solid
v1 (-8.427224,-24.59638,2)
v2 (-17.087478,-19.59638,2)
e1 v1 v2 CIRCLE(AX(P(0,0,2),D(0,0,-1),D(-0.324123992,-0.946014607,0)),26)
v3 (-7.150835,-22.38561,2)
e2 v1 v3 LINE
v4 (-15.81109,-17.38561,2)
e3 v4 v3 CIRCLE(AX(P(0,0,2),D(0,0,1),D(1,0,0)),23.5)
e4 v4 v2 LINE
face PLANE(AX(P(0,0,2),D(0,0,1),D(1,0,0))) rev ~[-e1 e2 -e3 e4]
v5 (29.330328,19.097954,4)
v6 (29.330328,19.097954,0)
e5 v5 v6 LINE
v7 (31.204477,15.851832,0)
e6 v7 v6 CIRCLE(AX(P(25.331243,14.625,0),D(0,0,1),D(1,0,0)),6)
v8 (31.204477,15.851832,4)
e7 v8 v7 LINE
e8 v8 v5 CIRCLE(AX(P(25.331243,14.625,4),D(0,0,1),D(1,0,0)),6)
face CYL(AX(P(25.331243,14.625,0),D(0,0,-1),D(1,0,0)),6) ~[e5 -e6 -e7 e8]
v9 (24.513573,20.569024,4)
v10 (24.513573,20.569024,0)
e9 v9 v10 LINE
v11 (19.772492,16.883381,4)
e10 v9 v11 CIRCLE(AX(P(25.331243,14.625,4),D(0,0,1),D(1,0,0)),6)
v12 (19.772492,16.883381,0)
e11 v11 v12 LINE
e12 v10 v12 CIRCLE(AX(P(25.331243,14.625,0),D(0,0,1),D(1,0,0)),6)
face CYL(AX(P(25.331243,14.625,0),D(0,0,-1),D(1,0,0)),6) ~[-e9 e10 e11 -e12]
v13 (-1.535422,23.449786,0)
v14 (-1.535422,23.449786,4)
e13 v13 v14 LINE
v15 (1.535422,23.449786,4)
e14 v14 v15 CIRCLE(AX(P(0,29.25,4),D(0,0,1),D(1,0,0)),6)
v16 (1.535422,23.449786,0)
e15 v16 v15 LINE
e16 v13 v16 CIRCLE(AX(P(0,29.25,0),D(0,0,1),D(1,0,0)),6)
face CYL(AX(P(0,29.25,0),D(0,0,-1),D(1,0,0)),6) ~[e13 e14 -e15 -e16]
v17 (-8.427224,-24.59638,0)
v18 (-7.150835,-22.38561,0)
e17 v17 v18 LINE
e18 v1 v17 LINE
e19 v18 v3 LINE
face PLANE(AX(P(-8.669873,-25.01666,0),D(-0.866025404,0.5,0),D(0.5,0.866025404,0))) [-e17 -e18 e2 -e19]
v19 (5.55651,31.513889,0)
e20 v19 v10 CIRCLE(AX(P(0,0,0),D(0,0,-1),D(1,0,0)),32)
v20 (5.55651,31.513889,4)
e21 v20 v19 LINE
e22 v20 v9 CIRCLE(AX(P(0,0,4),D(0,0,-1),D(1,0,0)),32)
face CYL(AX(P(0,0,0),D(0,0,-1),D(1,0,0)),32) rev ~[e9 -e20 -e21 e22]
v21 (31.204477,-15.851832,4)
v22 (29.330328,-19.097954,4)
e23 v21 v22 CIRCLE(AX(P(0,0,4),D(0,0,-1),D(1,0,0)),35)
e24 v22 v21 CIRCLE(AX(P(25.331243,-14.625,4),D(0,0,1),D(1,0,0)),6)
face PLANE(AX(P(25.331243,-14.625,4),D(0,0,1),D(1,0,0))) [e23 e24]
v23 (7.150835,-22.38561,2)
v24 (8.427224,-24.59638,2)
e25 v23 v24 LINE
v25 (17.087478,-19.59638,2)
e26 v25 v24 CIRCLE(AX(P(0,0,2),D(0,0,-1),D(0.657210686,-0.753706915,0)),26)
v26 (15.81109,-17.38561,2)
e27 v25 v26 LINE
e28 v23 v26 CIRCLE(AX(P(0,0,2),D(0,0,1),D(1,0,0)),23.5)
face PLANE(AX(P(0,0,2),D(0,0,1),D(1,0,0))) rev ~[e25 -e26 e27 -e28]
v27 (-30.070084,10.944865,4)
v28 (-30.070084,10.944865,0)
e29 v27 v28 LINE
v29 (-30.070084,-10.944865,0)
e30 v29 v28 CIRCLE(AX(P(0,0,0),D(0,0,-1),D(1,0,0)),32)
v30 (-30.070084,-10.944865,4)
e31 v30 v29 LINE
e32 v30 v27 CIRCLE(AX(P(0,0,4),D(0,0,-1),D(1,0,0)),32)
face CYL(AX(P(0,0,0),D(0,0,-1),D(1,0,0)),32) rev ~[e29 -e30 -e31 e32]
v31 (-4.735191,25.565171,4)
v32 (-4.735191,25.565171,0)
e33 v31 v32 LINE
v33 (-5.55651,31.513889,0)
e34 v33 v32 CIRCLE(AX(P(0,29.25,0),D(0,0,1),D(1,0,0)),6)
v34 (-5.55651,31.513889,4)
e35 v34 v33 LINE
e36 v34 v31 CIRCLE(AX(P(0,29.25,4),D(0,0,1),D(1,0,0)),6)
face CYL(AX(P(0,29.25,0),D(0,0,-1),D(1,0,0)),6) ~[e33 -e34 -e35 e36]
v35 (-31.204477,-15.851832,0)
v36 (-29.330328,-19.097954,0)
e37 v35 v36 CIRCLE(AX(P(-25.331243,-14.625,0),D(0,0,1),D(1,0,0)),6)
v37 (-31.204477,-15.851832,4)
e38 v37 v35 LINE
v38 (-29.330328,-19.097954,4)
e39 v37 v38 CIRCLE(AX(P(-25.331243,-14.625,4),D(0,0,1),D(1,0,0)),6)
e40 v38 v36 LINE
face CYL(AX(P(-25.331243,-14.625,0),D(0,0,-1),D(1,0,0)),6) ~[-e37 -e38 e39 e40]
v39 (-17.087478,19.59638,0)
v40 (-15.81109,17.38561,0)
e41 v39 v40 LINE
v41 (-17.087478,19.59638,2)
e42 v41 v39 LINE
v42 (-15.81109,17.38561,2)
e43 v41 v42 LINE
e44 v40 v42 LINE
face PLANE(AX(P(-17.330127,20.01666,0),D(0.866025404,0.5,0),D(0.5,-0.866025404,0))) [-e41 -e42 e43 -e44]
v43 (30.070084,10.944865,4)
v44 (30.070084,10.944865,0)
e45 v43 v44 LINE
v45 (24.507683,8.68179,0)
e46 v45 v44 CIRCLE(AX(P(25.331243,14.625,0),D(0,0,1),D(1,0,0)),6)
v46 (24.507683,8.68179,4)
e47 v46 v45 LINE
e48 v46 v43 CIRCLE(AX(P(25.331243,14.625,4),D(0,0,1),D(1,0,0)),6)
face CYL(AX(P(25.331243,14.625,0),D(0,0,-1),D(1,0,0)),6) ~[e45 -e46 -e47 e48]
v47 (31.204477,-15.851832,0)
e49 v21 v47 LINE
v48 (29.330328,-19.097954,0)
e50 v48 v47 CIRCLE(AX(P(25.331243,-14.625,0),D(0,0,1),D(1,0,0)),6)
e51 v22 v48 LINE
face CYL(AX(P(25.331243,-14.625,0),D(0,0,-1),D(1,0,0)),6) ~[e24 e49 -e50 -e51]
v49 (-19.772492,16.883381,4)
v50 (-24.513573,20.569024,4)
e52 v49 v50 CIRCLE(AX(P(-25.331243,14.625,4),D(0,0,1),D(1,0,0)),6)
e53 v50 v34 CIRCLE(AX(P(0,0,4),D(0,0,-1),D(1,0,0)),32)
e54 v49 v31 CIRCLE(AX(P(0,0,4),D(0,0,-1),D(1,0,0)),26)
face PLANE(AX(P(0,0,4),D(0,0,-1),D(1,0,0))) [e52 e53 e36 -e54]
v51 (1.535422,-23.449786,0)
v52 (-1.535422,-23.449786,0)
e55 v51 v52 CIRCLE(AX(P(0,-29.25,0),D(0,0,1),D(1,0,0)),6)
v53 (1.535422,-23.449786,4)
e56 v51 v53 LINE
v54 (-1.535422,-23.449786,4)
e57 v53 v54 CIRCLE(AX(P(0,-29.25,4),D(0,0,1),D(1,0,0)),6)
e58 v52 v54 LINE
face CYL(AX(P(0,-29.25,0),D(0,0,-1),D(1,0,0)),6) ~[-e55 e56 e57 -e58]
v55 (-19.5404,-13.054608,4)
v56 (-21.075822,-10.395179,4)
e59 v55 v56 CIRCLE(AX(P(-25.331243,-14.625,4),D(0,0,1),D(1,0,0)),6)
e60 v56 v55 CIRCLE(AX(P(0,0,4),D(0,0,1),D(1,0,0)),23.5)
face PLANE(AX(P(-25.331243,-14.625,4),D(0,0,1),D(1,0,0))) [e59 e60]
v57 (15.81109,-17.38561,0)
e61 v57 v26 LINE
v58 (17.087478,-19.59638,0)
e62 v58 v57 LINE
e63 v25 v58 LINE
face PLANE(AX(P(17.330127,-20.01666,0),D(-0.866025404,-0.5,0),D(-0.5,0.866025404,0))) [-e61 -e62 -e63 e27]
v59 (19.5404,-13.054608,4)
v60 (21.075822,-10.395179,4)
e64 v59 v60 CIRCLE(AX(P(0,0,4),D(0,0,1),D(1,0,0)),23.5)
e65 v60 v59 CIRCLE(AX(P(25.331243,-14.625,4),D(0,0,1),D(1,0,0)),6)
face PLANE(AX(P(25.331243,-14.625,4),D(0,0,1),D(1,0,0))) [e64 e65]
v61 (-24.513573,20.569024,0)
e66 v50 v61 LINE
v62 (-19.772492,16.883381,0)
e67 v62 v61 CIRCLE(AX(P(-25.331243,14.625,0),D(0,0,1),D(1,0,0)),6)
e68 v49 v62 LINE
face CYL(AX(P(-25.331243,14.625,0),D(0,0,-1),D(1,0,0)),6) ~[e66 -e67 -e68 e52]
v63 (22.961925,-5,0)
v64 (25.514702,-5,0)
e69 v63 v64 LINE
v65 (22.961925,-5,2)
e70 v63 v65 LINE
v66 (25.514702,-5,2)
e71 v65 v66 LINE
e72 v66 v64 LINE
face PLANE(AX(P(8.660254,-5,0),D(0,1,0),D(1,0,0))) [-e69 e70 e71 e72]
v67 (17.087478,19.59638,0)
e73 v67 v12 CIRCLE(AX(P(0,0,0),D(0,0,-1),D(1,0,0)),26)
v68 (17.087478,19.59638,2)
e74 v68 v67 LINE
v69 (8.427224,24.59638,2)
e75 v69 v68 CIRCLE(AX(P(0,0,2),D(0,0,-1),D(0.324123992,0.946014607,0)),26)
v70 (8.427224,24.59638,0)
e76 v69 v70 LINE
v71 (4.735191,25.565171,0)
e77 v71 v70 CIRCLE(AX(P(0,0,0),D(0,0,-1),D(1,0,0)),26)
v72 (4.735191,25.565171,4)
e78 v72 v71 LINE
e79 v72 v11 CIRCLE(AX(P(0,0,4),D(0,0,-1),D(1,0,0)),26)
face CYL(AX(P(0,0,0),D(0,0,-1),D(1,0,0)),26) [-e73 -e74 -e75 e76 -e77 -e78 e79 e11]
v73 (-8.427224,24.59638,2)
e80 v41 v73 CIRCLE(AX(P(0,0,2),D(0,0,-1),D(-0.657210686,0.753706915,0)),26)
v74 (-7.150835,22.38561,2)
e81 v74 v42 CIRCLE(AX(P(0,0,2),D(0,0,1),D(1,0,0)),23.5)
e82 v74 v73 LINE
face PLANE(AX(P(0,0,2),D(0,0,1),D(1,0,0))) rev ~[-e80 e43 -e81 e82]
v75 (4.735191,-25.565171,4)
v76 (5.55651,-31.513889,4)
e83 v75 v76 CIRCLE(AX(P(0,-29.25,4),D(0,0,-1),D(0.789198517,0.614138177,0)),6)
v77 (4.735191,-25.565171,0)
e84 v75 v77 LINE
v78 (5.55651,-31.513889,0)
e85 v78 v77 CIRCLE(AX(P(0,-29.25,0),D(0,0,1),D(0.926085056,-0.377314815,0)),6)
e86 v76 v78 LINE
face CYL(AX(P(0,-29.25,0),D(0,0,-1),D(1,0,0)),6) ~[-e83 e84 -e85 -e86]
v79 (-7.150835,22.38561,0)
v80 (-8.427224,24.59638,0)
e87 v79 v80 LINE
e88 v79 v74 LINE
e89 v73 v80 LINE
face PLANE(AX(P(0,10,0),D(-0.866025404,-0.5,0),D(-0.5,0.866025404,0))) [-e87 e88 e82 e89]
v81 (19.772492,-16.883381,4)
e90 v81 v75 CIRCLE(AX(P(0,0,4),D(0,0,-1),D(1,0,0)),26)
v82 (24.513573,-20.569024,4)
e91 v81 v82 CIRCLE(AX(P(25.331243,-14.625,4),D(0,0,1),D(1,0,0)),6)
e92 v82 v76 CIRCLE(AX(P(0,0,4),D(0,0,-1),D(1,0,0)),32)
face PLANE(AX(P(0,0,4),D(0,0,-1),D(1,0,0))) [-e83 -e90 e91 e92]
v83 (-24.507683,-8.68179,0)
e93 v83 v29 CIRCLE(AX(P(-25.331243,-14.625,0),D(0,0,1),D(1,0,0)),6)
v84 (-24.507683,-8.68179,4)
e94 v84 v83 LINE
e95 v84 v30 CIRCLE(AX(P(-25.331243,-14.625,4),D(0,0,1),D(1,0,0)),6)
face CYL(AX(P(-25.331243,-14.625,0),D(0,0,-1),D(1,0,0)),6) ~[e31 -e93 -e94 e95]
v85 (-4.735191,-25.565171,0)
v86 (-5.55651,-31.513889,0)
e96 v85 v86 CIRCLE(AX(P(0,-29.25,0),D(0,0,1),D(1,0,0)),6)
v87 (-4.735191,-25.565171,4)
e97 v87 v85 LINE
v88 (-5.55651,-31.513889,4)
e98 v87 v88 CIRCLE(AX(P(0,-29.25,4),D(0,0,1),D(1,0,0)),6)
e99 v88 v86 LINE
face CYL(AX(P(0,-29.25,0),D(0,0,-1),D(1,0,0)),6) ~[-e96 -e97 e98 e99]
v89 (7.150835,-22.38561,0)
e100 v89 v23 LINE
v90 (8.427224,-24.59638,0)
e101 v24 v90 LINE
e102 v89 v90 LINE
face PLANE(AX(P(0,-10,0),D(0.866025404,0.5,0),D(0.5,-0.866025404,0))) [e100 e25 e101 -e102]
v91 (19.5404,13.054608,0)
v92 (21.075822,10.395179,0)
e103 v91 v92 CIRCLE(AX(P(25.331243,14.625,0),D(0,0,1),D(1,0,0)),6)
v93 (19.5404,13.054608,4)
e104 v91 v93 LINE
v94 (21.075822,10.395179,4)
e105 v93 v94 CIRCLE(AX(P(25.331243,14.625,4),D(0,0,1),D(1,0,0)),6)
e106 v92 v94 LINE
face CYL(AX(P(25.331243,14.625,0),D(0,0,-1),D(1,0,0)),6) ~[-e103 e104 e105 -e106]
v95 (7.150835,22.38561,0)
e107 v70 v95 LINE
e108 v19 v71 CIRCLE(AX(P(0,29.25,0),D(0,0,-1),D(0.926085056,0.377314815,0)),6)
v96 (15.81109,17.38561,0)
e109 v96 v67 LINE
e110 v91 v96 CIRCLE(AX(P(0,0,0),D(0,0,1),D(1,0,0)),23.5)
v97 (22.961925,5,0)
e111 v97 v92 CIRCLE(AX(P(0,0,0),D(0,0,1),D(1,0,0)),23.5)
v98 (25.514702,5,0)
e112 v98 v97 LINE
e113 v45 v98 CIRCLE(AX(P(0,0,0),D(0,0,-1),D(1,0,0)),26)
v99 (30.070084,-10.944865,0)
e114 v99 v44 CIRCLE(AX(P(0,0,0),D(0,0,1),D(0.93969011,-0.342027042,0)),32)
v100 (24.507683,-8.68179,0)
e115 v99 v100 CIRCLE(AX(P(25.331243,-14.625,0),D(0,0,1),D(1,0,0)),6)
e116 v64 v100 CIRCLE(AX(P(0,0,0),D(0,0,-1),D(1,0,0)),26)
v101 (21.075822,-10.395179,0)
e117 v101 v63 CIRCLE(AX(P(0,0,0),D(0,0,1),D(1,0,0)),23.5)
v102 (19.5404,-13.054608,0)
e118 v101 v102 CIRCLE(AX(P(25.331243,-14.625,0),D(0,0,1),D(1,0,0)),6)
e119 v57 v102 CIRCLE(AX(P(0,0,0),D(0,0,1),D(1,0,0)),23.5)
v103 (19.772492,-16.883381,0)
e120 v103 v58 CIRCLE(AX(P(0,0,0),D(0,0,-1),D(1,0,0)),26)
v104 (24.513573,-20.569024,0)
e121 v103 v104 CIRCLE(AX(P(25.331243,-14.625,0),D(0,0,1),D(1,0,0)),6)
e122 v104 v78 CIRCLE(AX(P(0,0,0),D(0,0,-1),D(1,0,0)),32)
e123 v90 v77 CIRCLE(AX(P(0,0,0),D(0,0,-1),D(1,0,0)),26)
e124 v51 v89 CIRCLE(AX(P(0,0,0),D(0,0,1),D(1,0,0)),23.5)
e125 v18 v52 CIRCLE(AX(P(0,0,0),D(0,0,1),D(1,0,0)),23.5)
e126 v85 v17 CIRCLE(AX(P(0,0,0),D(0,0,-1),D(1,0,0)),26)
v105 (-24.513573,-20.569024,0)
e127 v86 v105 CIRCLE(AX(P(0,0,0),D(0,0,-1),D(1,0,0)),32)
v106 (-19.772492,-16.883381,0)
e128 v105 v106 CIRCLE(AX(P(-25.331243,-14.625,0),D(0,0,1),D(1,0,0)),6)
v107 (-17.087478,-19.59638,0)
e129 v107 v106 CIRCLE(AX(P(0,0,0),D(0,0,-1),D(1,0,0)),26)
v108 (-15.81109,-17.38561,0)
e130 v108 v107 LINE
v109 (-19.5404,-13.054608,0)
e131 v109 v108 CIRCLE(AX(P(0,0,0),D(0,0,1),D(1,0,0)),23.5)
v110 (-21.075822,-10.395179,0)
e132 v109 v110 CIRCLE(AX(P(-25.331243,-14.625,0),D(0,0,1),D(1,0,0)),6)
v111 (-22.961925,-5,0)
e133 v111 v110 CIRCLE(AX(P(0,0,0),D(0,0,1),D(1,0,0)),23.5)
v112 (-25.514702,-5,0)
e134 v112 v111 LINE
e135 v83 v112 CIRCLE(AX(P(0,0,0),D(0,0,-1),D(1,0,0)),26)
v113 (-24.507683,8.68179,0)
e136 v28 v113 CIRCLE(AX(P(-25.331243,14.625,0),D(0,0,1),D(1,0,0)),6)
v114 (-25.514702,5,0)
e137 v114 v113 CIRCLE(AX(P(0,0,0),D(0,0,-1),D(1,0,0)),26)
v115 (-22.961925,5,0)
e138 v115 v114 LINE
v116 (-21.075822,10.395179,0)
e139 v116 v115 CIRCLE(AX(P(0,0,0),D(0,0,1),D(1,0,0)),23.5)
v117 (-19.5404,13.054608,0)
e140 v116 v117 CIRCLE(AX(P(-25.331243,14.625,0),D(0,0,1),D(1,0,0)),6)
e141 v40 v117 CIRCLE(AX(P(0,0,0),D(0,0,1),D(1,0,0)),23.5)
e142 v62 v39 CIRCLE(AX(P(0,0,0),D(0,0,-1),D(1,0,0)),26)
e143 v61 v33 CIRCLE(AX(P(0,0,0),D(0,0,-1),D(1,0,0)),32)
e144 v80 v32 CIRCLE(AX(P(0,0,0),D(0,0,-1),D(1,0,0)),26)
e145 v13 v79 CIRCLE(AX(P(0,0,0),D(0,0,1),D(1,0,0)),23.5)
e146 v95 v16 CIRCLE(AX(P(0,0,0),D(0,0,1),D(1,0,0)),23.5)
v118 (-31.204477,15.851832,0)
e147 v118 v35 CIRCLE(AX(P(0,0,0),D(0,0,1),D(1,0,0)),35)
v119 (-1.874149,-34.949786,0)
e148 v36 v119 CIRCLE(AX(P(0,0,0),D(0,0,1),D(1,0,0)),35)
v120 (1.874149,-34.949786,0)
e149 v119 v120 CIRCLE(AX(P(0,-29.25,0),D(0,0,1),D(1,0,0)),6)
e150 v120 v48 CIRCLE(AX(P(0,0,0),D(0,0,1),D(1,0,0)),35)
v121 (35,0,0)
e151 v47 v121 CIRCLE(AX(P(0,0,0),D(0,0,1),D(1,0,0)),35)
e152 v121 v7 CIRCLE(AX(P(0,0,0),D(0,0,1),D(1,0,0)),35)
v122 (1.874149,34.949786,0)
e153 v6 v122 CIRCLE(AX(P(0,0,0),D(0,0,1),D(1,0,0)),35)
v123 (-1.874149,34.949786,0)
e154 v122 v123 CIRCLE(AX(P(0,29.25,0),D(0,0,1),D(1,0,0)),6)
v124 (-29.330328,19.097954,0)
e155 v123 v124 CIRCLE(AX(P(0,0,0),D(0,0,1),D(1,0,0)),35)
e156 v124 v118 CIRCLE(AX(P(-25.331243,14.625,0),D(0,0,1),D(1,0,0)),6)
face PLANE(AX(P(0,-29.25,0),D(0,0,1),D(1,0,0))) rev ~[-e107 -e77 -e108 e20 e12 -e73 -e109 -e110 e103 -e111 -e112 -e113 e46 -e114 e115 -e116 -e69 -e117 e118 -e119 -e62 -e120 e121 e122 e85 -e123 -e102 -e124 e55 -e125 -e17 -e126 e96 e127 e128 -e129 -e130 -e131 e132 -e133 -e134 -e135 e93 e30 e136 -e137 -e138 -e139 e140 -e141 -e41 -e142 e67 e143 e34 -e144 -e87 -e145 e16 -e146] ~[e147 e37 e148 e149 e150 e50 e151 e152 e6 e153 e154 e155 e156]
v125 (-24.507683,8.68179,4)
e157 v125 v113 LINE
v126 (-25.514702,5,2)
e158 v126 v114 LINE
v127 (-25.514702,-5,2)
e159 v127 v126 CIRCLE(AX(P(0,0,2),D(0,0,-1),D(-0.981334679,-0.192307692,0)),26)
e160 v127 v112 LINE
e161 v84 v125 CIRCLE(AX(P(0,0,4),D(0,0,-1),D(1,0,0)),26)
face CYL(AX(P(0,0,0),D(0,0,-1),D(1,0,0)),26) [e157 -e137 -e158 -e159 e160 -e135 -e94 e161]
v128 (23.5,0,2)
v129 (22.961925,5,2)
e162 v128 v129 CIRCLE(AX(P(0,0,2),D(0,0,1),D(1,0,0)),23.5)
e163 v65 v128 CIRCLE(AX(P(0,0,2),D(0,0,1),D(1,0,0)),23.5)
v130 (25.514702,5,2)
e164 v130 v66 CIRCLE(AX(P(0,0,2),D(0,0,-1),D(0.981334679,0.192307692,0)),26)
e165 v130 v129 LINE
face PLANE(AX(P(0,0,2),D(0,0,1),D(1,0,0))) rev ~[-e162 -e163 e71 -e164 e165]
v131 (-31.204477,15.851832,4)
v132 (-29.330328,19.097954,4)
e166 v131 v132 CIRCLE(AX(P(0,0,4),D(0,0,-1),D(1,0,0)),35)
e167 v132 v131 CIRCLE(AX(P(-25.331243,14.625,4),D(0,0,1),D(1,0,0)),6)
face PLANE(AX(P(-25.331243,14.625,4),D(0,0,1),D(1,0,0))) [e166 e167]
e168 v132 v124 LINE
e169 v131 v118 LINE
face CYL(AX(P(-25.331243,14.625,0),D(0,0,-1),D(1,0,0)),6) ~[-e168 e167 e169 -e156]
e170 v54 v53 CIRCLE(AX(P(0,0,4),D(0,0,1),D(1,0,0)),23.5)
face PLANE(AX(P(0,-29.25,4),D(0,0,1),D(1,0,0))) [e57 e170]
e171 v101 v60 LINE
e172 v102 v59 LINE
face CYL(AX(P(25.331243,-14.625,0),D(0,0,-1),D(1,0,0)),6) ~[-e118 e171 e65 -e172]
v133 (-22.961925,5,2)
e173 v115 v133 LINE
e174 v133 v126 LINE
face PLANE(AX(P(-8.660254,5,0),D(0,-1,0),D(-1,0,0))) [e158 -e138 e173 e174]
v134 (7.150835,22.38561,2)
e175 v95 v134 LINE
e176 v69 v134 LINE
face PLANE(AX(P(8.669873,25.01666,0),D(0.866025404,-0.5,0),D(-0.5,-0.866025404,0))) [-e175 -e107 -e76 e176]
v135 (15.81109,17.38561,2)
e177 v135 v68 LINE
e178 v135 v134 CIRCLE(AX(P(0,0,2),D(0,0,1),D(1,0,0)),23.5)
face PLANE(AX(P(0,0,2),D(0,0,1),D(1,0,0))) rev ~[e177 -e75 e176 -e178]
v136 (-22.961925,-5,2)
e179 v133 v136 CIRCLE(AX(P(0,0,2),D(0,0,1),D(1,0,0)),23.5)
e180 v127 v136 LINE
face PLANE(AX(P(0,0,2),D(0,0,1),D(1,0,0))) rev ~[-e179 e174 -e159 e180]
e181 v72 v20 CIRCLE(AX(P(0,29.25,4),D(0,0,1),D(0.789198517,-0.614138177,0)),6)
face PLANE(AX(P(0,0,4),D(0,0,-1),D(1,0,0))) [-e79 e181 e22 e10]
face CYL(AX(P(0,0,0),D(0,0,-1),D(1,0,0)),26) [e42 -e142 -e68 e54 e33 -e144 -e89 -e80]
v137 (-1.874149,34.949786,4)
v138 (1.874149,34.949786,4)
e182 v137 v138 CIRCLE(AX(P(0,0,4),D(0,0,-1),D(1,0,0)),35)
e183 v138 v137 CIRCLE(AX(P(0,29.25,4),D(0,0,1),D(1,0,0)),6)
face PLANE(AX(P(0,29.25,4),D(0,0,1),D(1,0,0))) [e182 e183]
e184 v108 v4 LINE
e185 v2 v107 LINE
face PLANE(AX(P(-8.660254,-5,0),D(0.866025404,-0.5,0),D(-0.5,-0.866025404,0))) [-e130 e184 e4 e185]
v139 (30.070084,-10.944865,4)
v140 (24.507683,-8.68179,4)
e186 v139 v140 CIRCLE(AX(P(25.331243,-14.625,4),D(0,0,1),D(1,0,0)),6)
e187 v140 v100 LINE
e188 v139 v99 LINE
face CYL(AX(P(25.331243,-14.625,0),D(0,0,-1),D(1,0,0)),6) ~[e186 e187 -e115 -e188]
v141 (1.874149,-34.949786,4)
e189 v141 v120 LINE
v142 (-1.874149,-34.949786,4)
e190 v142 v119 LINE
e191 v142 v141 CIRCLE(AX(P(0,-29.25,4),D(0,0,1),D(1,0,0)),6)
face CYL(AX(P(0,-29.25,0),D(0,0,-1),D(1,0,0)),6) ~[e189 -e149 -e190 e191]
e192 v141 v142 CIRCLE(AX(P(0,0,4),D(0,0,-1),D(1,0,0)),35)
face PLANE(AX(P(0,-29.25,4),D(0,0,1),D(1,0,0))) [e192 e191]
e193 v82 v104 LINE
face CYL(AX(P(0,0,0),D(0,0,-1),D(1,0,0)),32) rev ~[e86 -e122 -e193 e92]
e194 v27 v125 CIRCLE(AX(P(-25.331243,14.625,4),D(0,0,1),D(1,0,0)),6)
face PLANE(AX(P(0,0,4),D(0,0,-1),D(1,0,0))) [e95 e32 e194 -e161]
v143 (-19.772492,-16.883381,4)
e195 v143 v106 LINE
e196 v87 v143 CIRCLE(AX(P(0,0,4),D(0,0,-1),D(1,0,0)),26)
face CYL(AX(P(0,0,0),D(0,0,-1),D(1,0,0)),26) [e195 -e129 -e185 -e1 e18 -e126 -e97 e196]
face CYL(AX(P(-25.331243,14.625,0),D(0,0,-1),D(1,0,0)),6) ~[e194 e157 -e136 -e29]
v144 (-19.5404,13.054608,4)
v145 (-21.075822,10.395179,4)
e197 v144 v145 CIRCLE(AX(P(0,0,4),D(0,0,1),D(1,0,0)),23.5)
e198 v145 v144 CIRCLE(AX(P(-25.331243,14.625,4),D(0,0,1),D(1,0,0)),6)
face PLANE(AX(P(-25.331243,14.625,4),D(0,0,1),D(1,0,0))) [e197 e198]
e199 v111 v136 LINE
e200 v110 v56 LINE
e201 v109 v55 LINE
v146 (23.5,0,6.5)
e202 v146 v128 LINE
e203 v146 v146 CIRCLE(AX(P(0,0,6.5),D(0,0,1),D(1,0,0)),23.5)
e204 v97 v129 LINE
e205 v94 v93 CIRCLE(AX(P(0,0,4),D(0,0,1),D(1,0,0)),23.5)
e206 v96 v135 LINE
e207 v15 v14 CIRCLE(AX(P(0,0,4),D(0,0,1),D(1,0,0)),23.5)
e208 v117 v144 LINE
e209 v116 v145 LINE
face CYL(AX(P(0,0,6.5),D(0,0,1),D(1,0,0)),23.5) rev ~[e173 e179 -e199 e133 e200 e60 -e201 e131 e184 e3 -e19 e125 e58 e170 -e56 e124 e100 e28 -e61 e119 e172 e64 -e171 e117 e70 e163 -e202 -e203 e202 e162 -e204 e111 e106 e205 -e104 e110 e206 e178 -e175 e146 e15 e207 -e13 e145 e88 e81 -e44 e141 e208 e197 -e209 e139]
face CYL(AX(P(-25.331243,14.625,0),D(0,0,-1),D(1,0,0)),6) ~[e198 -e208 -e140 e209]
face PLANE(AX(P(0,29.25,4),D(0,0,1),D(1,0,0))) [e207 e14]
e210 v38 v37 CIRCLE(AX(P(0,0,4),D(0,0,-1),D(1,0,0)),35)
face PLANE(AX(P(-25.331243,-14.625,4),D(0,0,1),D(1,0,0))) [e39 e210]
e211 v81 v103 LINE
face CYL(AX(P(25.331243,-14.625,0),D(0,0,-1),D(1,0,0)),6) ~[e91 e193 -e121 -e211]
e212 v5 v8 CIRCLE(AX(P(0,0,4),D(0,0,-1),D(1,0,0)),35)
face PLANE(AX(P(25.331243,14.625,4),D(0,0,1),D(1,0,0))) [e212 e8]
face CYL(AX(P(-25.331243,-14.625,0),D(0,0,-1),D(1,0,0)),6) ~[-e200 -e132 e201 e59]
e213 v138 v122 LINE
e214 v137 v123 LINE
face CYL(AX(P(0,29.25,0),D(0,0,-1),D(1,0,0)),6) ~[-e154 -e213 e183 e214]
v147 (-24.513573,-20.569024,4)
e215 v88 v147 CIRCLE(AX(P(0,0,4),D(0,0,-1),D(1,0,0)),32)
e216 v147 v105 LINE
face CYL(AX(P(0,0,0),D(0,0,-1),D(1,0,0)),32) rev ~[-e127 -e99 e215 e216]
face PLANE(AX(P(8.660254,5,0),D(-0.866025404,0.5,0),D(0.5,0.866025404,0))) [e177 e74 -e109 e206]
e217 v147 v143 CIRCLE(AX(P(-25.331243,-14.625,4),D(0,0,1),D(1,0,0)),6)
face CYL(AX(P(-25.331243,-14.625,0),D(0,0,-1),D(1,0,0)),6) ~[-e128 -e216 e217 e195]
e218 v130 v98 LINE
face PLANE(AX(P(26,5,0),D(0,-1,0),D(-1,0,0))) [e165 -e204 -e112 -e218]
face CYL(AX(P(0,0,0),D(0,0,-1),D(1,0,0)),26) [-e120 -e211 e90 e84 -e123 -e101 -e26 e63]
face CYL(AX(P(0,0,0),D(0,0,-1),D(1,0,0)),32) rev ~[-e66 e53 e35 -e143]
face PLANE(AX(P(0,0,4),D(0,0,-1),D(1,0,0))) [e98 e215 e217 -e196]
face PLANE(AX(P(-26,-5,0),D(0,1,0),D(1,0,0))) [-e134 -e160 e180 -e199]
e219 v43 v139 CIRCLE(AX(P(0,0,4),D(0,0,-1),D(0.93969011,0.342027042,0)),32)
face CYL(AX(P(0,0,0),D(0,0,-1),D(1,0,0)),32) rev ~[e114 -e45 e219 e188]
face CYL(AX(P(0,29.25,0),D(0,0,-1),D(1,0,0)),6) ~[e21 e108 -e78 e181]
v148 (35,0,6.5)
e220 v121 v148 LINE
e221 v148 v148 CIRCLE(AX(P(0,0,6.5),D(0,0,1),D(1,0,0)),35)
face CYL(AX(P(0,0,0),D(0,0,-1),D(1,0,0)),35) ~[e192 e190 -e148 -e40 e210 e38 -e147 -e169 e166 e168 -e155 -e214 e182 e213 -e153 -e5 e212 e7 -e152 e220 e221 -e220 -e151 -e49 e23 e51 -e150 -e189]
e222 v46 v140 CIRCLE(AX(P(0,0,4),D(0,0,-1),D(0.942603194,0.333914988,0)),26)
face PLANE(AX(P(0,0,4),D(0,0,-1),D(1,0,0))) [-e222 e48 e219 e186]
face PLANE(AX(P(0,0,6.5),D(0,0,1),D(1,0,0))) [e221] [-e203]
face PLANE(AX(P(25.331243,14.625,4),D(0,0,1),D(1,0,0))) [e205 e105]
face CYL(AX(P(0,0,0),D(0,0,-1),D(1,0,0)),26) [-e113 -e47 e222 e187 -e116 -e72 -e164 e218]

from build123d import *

# Parameters (mm, degrees)
F0_R     = 35
F1_DEPTH = 6.5
F2_R     = 23.5
F3_DEPTH = 6.5
F4_R     = 32
F4_R_2   = 26
F5_DEPTH = 4
F7_DEPTH = 2
F8_R     = 6
F9_DEPTH = 4


with BuildPart() as f1:
    # F0 (on Top) → F1 (new body)
    with BuildSketch(Plane.XY):
        Circle(F0_R)
    extrude(amount=F1_DEPTH)

    # F2 (on face) → F3 (cut, through all)
    with BuildSketch(Plane.XY.offset(6.5)):
        Circle(F2_R)
    extrude(amount=-F3_DEPTH, mode=Mode.SUBTRACT)

    # F4 (on face) → F5 (cut)
    with BuildSketch(Plane(origin=(0, 0, 0), x_dir=(1, 0, 0), z_dir=(0, 0, -1))):
        Circle(F4_R)
        Circle(F4_R_2, mode=Mode.SUBTRACT)
    extrude(amount=-F5_DEPTH, mode=Mode.SUBTRACT)

    # F6 (on Top) → F7 (cut)
    with BuildSketch(Plane.XY):
        Polygon((-26, 5), (-26, -5), (-8.6602540378, -5), (-17.3301270189, -20.0166604984), (-8.6698729811, -25.0166604984), (0, -10), (8.6698729811, -25.0166604984), (17.3301270189, -20.0166604984), (8.6602540378, -5), (26, -5), (26, 5), (8.6602540378, 5), (17.3301270189, 20.0166604984), (8.6698729811, 25.0166604984), (0, 10), (-8.6698729811, 25.0166604984), (-17.3301270189, 20.0166604984), (-8.6602540378, 5), align=None)
    extrude(amount=F7_DEPTH, mode=Mode.SUBTRACT)

    # F8 (on Top) → F9 (join)
    with BuildSketch(Plane.XY):
        with Locations((0, -29.25)):
            Circle(F8_R)
        with Locations((25.3312430607, -14.625)):
            Circle(F8_R)
        with Locations((25.3312430607, 14.625)):
            Circle(F8_R)
        with Locations((0, 29.25)):
            Circle(F8_R)
        with Locations((-25.3312430607, 14.625)):
            Circle(F8_R)
        with Locations((-25.3312430607, -14.625)):
            Circle(F8_R)
    extrude(amount=F9_DEPTH)


solid = f1.part
